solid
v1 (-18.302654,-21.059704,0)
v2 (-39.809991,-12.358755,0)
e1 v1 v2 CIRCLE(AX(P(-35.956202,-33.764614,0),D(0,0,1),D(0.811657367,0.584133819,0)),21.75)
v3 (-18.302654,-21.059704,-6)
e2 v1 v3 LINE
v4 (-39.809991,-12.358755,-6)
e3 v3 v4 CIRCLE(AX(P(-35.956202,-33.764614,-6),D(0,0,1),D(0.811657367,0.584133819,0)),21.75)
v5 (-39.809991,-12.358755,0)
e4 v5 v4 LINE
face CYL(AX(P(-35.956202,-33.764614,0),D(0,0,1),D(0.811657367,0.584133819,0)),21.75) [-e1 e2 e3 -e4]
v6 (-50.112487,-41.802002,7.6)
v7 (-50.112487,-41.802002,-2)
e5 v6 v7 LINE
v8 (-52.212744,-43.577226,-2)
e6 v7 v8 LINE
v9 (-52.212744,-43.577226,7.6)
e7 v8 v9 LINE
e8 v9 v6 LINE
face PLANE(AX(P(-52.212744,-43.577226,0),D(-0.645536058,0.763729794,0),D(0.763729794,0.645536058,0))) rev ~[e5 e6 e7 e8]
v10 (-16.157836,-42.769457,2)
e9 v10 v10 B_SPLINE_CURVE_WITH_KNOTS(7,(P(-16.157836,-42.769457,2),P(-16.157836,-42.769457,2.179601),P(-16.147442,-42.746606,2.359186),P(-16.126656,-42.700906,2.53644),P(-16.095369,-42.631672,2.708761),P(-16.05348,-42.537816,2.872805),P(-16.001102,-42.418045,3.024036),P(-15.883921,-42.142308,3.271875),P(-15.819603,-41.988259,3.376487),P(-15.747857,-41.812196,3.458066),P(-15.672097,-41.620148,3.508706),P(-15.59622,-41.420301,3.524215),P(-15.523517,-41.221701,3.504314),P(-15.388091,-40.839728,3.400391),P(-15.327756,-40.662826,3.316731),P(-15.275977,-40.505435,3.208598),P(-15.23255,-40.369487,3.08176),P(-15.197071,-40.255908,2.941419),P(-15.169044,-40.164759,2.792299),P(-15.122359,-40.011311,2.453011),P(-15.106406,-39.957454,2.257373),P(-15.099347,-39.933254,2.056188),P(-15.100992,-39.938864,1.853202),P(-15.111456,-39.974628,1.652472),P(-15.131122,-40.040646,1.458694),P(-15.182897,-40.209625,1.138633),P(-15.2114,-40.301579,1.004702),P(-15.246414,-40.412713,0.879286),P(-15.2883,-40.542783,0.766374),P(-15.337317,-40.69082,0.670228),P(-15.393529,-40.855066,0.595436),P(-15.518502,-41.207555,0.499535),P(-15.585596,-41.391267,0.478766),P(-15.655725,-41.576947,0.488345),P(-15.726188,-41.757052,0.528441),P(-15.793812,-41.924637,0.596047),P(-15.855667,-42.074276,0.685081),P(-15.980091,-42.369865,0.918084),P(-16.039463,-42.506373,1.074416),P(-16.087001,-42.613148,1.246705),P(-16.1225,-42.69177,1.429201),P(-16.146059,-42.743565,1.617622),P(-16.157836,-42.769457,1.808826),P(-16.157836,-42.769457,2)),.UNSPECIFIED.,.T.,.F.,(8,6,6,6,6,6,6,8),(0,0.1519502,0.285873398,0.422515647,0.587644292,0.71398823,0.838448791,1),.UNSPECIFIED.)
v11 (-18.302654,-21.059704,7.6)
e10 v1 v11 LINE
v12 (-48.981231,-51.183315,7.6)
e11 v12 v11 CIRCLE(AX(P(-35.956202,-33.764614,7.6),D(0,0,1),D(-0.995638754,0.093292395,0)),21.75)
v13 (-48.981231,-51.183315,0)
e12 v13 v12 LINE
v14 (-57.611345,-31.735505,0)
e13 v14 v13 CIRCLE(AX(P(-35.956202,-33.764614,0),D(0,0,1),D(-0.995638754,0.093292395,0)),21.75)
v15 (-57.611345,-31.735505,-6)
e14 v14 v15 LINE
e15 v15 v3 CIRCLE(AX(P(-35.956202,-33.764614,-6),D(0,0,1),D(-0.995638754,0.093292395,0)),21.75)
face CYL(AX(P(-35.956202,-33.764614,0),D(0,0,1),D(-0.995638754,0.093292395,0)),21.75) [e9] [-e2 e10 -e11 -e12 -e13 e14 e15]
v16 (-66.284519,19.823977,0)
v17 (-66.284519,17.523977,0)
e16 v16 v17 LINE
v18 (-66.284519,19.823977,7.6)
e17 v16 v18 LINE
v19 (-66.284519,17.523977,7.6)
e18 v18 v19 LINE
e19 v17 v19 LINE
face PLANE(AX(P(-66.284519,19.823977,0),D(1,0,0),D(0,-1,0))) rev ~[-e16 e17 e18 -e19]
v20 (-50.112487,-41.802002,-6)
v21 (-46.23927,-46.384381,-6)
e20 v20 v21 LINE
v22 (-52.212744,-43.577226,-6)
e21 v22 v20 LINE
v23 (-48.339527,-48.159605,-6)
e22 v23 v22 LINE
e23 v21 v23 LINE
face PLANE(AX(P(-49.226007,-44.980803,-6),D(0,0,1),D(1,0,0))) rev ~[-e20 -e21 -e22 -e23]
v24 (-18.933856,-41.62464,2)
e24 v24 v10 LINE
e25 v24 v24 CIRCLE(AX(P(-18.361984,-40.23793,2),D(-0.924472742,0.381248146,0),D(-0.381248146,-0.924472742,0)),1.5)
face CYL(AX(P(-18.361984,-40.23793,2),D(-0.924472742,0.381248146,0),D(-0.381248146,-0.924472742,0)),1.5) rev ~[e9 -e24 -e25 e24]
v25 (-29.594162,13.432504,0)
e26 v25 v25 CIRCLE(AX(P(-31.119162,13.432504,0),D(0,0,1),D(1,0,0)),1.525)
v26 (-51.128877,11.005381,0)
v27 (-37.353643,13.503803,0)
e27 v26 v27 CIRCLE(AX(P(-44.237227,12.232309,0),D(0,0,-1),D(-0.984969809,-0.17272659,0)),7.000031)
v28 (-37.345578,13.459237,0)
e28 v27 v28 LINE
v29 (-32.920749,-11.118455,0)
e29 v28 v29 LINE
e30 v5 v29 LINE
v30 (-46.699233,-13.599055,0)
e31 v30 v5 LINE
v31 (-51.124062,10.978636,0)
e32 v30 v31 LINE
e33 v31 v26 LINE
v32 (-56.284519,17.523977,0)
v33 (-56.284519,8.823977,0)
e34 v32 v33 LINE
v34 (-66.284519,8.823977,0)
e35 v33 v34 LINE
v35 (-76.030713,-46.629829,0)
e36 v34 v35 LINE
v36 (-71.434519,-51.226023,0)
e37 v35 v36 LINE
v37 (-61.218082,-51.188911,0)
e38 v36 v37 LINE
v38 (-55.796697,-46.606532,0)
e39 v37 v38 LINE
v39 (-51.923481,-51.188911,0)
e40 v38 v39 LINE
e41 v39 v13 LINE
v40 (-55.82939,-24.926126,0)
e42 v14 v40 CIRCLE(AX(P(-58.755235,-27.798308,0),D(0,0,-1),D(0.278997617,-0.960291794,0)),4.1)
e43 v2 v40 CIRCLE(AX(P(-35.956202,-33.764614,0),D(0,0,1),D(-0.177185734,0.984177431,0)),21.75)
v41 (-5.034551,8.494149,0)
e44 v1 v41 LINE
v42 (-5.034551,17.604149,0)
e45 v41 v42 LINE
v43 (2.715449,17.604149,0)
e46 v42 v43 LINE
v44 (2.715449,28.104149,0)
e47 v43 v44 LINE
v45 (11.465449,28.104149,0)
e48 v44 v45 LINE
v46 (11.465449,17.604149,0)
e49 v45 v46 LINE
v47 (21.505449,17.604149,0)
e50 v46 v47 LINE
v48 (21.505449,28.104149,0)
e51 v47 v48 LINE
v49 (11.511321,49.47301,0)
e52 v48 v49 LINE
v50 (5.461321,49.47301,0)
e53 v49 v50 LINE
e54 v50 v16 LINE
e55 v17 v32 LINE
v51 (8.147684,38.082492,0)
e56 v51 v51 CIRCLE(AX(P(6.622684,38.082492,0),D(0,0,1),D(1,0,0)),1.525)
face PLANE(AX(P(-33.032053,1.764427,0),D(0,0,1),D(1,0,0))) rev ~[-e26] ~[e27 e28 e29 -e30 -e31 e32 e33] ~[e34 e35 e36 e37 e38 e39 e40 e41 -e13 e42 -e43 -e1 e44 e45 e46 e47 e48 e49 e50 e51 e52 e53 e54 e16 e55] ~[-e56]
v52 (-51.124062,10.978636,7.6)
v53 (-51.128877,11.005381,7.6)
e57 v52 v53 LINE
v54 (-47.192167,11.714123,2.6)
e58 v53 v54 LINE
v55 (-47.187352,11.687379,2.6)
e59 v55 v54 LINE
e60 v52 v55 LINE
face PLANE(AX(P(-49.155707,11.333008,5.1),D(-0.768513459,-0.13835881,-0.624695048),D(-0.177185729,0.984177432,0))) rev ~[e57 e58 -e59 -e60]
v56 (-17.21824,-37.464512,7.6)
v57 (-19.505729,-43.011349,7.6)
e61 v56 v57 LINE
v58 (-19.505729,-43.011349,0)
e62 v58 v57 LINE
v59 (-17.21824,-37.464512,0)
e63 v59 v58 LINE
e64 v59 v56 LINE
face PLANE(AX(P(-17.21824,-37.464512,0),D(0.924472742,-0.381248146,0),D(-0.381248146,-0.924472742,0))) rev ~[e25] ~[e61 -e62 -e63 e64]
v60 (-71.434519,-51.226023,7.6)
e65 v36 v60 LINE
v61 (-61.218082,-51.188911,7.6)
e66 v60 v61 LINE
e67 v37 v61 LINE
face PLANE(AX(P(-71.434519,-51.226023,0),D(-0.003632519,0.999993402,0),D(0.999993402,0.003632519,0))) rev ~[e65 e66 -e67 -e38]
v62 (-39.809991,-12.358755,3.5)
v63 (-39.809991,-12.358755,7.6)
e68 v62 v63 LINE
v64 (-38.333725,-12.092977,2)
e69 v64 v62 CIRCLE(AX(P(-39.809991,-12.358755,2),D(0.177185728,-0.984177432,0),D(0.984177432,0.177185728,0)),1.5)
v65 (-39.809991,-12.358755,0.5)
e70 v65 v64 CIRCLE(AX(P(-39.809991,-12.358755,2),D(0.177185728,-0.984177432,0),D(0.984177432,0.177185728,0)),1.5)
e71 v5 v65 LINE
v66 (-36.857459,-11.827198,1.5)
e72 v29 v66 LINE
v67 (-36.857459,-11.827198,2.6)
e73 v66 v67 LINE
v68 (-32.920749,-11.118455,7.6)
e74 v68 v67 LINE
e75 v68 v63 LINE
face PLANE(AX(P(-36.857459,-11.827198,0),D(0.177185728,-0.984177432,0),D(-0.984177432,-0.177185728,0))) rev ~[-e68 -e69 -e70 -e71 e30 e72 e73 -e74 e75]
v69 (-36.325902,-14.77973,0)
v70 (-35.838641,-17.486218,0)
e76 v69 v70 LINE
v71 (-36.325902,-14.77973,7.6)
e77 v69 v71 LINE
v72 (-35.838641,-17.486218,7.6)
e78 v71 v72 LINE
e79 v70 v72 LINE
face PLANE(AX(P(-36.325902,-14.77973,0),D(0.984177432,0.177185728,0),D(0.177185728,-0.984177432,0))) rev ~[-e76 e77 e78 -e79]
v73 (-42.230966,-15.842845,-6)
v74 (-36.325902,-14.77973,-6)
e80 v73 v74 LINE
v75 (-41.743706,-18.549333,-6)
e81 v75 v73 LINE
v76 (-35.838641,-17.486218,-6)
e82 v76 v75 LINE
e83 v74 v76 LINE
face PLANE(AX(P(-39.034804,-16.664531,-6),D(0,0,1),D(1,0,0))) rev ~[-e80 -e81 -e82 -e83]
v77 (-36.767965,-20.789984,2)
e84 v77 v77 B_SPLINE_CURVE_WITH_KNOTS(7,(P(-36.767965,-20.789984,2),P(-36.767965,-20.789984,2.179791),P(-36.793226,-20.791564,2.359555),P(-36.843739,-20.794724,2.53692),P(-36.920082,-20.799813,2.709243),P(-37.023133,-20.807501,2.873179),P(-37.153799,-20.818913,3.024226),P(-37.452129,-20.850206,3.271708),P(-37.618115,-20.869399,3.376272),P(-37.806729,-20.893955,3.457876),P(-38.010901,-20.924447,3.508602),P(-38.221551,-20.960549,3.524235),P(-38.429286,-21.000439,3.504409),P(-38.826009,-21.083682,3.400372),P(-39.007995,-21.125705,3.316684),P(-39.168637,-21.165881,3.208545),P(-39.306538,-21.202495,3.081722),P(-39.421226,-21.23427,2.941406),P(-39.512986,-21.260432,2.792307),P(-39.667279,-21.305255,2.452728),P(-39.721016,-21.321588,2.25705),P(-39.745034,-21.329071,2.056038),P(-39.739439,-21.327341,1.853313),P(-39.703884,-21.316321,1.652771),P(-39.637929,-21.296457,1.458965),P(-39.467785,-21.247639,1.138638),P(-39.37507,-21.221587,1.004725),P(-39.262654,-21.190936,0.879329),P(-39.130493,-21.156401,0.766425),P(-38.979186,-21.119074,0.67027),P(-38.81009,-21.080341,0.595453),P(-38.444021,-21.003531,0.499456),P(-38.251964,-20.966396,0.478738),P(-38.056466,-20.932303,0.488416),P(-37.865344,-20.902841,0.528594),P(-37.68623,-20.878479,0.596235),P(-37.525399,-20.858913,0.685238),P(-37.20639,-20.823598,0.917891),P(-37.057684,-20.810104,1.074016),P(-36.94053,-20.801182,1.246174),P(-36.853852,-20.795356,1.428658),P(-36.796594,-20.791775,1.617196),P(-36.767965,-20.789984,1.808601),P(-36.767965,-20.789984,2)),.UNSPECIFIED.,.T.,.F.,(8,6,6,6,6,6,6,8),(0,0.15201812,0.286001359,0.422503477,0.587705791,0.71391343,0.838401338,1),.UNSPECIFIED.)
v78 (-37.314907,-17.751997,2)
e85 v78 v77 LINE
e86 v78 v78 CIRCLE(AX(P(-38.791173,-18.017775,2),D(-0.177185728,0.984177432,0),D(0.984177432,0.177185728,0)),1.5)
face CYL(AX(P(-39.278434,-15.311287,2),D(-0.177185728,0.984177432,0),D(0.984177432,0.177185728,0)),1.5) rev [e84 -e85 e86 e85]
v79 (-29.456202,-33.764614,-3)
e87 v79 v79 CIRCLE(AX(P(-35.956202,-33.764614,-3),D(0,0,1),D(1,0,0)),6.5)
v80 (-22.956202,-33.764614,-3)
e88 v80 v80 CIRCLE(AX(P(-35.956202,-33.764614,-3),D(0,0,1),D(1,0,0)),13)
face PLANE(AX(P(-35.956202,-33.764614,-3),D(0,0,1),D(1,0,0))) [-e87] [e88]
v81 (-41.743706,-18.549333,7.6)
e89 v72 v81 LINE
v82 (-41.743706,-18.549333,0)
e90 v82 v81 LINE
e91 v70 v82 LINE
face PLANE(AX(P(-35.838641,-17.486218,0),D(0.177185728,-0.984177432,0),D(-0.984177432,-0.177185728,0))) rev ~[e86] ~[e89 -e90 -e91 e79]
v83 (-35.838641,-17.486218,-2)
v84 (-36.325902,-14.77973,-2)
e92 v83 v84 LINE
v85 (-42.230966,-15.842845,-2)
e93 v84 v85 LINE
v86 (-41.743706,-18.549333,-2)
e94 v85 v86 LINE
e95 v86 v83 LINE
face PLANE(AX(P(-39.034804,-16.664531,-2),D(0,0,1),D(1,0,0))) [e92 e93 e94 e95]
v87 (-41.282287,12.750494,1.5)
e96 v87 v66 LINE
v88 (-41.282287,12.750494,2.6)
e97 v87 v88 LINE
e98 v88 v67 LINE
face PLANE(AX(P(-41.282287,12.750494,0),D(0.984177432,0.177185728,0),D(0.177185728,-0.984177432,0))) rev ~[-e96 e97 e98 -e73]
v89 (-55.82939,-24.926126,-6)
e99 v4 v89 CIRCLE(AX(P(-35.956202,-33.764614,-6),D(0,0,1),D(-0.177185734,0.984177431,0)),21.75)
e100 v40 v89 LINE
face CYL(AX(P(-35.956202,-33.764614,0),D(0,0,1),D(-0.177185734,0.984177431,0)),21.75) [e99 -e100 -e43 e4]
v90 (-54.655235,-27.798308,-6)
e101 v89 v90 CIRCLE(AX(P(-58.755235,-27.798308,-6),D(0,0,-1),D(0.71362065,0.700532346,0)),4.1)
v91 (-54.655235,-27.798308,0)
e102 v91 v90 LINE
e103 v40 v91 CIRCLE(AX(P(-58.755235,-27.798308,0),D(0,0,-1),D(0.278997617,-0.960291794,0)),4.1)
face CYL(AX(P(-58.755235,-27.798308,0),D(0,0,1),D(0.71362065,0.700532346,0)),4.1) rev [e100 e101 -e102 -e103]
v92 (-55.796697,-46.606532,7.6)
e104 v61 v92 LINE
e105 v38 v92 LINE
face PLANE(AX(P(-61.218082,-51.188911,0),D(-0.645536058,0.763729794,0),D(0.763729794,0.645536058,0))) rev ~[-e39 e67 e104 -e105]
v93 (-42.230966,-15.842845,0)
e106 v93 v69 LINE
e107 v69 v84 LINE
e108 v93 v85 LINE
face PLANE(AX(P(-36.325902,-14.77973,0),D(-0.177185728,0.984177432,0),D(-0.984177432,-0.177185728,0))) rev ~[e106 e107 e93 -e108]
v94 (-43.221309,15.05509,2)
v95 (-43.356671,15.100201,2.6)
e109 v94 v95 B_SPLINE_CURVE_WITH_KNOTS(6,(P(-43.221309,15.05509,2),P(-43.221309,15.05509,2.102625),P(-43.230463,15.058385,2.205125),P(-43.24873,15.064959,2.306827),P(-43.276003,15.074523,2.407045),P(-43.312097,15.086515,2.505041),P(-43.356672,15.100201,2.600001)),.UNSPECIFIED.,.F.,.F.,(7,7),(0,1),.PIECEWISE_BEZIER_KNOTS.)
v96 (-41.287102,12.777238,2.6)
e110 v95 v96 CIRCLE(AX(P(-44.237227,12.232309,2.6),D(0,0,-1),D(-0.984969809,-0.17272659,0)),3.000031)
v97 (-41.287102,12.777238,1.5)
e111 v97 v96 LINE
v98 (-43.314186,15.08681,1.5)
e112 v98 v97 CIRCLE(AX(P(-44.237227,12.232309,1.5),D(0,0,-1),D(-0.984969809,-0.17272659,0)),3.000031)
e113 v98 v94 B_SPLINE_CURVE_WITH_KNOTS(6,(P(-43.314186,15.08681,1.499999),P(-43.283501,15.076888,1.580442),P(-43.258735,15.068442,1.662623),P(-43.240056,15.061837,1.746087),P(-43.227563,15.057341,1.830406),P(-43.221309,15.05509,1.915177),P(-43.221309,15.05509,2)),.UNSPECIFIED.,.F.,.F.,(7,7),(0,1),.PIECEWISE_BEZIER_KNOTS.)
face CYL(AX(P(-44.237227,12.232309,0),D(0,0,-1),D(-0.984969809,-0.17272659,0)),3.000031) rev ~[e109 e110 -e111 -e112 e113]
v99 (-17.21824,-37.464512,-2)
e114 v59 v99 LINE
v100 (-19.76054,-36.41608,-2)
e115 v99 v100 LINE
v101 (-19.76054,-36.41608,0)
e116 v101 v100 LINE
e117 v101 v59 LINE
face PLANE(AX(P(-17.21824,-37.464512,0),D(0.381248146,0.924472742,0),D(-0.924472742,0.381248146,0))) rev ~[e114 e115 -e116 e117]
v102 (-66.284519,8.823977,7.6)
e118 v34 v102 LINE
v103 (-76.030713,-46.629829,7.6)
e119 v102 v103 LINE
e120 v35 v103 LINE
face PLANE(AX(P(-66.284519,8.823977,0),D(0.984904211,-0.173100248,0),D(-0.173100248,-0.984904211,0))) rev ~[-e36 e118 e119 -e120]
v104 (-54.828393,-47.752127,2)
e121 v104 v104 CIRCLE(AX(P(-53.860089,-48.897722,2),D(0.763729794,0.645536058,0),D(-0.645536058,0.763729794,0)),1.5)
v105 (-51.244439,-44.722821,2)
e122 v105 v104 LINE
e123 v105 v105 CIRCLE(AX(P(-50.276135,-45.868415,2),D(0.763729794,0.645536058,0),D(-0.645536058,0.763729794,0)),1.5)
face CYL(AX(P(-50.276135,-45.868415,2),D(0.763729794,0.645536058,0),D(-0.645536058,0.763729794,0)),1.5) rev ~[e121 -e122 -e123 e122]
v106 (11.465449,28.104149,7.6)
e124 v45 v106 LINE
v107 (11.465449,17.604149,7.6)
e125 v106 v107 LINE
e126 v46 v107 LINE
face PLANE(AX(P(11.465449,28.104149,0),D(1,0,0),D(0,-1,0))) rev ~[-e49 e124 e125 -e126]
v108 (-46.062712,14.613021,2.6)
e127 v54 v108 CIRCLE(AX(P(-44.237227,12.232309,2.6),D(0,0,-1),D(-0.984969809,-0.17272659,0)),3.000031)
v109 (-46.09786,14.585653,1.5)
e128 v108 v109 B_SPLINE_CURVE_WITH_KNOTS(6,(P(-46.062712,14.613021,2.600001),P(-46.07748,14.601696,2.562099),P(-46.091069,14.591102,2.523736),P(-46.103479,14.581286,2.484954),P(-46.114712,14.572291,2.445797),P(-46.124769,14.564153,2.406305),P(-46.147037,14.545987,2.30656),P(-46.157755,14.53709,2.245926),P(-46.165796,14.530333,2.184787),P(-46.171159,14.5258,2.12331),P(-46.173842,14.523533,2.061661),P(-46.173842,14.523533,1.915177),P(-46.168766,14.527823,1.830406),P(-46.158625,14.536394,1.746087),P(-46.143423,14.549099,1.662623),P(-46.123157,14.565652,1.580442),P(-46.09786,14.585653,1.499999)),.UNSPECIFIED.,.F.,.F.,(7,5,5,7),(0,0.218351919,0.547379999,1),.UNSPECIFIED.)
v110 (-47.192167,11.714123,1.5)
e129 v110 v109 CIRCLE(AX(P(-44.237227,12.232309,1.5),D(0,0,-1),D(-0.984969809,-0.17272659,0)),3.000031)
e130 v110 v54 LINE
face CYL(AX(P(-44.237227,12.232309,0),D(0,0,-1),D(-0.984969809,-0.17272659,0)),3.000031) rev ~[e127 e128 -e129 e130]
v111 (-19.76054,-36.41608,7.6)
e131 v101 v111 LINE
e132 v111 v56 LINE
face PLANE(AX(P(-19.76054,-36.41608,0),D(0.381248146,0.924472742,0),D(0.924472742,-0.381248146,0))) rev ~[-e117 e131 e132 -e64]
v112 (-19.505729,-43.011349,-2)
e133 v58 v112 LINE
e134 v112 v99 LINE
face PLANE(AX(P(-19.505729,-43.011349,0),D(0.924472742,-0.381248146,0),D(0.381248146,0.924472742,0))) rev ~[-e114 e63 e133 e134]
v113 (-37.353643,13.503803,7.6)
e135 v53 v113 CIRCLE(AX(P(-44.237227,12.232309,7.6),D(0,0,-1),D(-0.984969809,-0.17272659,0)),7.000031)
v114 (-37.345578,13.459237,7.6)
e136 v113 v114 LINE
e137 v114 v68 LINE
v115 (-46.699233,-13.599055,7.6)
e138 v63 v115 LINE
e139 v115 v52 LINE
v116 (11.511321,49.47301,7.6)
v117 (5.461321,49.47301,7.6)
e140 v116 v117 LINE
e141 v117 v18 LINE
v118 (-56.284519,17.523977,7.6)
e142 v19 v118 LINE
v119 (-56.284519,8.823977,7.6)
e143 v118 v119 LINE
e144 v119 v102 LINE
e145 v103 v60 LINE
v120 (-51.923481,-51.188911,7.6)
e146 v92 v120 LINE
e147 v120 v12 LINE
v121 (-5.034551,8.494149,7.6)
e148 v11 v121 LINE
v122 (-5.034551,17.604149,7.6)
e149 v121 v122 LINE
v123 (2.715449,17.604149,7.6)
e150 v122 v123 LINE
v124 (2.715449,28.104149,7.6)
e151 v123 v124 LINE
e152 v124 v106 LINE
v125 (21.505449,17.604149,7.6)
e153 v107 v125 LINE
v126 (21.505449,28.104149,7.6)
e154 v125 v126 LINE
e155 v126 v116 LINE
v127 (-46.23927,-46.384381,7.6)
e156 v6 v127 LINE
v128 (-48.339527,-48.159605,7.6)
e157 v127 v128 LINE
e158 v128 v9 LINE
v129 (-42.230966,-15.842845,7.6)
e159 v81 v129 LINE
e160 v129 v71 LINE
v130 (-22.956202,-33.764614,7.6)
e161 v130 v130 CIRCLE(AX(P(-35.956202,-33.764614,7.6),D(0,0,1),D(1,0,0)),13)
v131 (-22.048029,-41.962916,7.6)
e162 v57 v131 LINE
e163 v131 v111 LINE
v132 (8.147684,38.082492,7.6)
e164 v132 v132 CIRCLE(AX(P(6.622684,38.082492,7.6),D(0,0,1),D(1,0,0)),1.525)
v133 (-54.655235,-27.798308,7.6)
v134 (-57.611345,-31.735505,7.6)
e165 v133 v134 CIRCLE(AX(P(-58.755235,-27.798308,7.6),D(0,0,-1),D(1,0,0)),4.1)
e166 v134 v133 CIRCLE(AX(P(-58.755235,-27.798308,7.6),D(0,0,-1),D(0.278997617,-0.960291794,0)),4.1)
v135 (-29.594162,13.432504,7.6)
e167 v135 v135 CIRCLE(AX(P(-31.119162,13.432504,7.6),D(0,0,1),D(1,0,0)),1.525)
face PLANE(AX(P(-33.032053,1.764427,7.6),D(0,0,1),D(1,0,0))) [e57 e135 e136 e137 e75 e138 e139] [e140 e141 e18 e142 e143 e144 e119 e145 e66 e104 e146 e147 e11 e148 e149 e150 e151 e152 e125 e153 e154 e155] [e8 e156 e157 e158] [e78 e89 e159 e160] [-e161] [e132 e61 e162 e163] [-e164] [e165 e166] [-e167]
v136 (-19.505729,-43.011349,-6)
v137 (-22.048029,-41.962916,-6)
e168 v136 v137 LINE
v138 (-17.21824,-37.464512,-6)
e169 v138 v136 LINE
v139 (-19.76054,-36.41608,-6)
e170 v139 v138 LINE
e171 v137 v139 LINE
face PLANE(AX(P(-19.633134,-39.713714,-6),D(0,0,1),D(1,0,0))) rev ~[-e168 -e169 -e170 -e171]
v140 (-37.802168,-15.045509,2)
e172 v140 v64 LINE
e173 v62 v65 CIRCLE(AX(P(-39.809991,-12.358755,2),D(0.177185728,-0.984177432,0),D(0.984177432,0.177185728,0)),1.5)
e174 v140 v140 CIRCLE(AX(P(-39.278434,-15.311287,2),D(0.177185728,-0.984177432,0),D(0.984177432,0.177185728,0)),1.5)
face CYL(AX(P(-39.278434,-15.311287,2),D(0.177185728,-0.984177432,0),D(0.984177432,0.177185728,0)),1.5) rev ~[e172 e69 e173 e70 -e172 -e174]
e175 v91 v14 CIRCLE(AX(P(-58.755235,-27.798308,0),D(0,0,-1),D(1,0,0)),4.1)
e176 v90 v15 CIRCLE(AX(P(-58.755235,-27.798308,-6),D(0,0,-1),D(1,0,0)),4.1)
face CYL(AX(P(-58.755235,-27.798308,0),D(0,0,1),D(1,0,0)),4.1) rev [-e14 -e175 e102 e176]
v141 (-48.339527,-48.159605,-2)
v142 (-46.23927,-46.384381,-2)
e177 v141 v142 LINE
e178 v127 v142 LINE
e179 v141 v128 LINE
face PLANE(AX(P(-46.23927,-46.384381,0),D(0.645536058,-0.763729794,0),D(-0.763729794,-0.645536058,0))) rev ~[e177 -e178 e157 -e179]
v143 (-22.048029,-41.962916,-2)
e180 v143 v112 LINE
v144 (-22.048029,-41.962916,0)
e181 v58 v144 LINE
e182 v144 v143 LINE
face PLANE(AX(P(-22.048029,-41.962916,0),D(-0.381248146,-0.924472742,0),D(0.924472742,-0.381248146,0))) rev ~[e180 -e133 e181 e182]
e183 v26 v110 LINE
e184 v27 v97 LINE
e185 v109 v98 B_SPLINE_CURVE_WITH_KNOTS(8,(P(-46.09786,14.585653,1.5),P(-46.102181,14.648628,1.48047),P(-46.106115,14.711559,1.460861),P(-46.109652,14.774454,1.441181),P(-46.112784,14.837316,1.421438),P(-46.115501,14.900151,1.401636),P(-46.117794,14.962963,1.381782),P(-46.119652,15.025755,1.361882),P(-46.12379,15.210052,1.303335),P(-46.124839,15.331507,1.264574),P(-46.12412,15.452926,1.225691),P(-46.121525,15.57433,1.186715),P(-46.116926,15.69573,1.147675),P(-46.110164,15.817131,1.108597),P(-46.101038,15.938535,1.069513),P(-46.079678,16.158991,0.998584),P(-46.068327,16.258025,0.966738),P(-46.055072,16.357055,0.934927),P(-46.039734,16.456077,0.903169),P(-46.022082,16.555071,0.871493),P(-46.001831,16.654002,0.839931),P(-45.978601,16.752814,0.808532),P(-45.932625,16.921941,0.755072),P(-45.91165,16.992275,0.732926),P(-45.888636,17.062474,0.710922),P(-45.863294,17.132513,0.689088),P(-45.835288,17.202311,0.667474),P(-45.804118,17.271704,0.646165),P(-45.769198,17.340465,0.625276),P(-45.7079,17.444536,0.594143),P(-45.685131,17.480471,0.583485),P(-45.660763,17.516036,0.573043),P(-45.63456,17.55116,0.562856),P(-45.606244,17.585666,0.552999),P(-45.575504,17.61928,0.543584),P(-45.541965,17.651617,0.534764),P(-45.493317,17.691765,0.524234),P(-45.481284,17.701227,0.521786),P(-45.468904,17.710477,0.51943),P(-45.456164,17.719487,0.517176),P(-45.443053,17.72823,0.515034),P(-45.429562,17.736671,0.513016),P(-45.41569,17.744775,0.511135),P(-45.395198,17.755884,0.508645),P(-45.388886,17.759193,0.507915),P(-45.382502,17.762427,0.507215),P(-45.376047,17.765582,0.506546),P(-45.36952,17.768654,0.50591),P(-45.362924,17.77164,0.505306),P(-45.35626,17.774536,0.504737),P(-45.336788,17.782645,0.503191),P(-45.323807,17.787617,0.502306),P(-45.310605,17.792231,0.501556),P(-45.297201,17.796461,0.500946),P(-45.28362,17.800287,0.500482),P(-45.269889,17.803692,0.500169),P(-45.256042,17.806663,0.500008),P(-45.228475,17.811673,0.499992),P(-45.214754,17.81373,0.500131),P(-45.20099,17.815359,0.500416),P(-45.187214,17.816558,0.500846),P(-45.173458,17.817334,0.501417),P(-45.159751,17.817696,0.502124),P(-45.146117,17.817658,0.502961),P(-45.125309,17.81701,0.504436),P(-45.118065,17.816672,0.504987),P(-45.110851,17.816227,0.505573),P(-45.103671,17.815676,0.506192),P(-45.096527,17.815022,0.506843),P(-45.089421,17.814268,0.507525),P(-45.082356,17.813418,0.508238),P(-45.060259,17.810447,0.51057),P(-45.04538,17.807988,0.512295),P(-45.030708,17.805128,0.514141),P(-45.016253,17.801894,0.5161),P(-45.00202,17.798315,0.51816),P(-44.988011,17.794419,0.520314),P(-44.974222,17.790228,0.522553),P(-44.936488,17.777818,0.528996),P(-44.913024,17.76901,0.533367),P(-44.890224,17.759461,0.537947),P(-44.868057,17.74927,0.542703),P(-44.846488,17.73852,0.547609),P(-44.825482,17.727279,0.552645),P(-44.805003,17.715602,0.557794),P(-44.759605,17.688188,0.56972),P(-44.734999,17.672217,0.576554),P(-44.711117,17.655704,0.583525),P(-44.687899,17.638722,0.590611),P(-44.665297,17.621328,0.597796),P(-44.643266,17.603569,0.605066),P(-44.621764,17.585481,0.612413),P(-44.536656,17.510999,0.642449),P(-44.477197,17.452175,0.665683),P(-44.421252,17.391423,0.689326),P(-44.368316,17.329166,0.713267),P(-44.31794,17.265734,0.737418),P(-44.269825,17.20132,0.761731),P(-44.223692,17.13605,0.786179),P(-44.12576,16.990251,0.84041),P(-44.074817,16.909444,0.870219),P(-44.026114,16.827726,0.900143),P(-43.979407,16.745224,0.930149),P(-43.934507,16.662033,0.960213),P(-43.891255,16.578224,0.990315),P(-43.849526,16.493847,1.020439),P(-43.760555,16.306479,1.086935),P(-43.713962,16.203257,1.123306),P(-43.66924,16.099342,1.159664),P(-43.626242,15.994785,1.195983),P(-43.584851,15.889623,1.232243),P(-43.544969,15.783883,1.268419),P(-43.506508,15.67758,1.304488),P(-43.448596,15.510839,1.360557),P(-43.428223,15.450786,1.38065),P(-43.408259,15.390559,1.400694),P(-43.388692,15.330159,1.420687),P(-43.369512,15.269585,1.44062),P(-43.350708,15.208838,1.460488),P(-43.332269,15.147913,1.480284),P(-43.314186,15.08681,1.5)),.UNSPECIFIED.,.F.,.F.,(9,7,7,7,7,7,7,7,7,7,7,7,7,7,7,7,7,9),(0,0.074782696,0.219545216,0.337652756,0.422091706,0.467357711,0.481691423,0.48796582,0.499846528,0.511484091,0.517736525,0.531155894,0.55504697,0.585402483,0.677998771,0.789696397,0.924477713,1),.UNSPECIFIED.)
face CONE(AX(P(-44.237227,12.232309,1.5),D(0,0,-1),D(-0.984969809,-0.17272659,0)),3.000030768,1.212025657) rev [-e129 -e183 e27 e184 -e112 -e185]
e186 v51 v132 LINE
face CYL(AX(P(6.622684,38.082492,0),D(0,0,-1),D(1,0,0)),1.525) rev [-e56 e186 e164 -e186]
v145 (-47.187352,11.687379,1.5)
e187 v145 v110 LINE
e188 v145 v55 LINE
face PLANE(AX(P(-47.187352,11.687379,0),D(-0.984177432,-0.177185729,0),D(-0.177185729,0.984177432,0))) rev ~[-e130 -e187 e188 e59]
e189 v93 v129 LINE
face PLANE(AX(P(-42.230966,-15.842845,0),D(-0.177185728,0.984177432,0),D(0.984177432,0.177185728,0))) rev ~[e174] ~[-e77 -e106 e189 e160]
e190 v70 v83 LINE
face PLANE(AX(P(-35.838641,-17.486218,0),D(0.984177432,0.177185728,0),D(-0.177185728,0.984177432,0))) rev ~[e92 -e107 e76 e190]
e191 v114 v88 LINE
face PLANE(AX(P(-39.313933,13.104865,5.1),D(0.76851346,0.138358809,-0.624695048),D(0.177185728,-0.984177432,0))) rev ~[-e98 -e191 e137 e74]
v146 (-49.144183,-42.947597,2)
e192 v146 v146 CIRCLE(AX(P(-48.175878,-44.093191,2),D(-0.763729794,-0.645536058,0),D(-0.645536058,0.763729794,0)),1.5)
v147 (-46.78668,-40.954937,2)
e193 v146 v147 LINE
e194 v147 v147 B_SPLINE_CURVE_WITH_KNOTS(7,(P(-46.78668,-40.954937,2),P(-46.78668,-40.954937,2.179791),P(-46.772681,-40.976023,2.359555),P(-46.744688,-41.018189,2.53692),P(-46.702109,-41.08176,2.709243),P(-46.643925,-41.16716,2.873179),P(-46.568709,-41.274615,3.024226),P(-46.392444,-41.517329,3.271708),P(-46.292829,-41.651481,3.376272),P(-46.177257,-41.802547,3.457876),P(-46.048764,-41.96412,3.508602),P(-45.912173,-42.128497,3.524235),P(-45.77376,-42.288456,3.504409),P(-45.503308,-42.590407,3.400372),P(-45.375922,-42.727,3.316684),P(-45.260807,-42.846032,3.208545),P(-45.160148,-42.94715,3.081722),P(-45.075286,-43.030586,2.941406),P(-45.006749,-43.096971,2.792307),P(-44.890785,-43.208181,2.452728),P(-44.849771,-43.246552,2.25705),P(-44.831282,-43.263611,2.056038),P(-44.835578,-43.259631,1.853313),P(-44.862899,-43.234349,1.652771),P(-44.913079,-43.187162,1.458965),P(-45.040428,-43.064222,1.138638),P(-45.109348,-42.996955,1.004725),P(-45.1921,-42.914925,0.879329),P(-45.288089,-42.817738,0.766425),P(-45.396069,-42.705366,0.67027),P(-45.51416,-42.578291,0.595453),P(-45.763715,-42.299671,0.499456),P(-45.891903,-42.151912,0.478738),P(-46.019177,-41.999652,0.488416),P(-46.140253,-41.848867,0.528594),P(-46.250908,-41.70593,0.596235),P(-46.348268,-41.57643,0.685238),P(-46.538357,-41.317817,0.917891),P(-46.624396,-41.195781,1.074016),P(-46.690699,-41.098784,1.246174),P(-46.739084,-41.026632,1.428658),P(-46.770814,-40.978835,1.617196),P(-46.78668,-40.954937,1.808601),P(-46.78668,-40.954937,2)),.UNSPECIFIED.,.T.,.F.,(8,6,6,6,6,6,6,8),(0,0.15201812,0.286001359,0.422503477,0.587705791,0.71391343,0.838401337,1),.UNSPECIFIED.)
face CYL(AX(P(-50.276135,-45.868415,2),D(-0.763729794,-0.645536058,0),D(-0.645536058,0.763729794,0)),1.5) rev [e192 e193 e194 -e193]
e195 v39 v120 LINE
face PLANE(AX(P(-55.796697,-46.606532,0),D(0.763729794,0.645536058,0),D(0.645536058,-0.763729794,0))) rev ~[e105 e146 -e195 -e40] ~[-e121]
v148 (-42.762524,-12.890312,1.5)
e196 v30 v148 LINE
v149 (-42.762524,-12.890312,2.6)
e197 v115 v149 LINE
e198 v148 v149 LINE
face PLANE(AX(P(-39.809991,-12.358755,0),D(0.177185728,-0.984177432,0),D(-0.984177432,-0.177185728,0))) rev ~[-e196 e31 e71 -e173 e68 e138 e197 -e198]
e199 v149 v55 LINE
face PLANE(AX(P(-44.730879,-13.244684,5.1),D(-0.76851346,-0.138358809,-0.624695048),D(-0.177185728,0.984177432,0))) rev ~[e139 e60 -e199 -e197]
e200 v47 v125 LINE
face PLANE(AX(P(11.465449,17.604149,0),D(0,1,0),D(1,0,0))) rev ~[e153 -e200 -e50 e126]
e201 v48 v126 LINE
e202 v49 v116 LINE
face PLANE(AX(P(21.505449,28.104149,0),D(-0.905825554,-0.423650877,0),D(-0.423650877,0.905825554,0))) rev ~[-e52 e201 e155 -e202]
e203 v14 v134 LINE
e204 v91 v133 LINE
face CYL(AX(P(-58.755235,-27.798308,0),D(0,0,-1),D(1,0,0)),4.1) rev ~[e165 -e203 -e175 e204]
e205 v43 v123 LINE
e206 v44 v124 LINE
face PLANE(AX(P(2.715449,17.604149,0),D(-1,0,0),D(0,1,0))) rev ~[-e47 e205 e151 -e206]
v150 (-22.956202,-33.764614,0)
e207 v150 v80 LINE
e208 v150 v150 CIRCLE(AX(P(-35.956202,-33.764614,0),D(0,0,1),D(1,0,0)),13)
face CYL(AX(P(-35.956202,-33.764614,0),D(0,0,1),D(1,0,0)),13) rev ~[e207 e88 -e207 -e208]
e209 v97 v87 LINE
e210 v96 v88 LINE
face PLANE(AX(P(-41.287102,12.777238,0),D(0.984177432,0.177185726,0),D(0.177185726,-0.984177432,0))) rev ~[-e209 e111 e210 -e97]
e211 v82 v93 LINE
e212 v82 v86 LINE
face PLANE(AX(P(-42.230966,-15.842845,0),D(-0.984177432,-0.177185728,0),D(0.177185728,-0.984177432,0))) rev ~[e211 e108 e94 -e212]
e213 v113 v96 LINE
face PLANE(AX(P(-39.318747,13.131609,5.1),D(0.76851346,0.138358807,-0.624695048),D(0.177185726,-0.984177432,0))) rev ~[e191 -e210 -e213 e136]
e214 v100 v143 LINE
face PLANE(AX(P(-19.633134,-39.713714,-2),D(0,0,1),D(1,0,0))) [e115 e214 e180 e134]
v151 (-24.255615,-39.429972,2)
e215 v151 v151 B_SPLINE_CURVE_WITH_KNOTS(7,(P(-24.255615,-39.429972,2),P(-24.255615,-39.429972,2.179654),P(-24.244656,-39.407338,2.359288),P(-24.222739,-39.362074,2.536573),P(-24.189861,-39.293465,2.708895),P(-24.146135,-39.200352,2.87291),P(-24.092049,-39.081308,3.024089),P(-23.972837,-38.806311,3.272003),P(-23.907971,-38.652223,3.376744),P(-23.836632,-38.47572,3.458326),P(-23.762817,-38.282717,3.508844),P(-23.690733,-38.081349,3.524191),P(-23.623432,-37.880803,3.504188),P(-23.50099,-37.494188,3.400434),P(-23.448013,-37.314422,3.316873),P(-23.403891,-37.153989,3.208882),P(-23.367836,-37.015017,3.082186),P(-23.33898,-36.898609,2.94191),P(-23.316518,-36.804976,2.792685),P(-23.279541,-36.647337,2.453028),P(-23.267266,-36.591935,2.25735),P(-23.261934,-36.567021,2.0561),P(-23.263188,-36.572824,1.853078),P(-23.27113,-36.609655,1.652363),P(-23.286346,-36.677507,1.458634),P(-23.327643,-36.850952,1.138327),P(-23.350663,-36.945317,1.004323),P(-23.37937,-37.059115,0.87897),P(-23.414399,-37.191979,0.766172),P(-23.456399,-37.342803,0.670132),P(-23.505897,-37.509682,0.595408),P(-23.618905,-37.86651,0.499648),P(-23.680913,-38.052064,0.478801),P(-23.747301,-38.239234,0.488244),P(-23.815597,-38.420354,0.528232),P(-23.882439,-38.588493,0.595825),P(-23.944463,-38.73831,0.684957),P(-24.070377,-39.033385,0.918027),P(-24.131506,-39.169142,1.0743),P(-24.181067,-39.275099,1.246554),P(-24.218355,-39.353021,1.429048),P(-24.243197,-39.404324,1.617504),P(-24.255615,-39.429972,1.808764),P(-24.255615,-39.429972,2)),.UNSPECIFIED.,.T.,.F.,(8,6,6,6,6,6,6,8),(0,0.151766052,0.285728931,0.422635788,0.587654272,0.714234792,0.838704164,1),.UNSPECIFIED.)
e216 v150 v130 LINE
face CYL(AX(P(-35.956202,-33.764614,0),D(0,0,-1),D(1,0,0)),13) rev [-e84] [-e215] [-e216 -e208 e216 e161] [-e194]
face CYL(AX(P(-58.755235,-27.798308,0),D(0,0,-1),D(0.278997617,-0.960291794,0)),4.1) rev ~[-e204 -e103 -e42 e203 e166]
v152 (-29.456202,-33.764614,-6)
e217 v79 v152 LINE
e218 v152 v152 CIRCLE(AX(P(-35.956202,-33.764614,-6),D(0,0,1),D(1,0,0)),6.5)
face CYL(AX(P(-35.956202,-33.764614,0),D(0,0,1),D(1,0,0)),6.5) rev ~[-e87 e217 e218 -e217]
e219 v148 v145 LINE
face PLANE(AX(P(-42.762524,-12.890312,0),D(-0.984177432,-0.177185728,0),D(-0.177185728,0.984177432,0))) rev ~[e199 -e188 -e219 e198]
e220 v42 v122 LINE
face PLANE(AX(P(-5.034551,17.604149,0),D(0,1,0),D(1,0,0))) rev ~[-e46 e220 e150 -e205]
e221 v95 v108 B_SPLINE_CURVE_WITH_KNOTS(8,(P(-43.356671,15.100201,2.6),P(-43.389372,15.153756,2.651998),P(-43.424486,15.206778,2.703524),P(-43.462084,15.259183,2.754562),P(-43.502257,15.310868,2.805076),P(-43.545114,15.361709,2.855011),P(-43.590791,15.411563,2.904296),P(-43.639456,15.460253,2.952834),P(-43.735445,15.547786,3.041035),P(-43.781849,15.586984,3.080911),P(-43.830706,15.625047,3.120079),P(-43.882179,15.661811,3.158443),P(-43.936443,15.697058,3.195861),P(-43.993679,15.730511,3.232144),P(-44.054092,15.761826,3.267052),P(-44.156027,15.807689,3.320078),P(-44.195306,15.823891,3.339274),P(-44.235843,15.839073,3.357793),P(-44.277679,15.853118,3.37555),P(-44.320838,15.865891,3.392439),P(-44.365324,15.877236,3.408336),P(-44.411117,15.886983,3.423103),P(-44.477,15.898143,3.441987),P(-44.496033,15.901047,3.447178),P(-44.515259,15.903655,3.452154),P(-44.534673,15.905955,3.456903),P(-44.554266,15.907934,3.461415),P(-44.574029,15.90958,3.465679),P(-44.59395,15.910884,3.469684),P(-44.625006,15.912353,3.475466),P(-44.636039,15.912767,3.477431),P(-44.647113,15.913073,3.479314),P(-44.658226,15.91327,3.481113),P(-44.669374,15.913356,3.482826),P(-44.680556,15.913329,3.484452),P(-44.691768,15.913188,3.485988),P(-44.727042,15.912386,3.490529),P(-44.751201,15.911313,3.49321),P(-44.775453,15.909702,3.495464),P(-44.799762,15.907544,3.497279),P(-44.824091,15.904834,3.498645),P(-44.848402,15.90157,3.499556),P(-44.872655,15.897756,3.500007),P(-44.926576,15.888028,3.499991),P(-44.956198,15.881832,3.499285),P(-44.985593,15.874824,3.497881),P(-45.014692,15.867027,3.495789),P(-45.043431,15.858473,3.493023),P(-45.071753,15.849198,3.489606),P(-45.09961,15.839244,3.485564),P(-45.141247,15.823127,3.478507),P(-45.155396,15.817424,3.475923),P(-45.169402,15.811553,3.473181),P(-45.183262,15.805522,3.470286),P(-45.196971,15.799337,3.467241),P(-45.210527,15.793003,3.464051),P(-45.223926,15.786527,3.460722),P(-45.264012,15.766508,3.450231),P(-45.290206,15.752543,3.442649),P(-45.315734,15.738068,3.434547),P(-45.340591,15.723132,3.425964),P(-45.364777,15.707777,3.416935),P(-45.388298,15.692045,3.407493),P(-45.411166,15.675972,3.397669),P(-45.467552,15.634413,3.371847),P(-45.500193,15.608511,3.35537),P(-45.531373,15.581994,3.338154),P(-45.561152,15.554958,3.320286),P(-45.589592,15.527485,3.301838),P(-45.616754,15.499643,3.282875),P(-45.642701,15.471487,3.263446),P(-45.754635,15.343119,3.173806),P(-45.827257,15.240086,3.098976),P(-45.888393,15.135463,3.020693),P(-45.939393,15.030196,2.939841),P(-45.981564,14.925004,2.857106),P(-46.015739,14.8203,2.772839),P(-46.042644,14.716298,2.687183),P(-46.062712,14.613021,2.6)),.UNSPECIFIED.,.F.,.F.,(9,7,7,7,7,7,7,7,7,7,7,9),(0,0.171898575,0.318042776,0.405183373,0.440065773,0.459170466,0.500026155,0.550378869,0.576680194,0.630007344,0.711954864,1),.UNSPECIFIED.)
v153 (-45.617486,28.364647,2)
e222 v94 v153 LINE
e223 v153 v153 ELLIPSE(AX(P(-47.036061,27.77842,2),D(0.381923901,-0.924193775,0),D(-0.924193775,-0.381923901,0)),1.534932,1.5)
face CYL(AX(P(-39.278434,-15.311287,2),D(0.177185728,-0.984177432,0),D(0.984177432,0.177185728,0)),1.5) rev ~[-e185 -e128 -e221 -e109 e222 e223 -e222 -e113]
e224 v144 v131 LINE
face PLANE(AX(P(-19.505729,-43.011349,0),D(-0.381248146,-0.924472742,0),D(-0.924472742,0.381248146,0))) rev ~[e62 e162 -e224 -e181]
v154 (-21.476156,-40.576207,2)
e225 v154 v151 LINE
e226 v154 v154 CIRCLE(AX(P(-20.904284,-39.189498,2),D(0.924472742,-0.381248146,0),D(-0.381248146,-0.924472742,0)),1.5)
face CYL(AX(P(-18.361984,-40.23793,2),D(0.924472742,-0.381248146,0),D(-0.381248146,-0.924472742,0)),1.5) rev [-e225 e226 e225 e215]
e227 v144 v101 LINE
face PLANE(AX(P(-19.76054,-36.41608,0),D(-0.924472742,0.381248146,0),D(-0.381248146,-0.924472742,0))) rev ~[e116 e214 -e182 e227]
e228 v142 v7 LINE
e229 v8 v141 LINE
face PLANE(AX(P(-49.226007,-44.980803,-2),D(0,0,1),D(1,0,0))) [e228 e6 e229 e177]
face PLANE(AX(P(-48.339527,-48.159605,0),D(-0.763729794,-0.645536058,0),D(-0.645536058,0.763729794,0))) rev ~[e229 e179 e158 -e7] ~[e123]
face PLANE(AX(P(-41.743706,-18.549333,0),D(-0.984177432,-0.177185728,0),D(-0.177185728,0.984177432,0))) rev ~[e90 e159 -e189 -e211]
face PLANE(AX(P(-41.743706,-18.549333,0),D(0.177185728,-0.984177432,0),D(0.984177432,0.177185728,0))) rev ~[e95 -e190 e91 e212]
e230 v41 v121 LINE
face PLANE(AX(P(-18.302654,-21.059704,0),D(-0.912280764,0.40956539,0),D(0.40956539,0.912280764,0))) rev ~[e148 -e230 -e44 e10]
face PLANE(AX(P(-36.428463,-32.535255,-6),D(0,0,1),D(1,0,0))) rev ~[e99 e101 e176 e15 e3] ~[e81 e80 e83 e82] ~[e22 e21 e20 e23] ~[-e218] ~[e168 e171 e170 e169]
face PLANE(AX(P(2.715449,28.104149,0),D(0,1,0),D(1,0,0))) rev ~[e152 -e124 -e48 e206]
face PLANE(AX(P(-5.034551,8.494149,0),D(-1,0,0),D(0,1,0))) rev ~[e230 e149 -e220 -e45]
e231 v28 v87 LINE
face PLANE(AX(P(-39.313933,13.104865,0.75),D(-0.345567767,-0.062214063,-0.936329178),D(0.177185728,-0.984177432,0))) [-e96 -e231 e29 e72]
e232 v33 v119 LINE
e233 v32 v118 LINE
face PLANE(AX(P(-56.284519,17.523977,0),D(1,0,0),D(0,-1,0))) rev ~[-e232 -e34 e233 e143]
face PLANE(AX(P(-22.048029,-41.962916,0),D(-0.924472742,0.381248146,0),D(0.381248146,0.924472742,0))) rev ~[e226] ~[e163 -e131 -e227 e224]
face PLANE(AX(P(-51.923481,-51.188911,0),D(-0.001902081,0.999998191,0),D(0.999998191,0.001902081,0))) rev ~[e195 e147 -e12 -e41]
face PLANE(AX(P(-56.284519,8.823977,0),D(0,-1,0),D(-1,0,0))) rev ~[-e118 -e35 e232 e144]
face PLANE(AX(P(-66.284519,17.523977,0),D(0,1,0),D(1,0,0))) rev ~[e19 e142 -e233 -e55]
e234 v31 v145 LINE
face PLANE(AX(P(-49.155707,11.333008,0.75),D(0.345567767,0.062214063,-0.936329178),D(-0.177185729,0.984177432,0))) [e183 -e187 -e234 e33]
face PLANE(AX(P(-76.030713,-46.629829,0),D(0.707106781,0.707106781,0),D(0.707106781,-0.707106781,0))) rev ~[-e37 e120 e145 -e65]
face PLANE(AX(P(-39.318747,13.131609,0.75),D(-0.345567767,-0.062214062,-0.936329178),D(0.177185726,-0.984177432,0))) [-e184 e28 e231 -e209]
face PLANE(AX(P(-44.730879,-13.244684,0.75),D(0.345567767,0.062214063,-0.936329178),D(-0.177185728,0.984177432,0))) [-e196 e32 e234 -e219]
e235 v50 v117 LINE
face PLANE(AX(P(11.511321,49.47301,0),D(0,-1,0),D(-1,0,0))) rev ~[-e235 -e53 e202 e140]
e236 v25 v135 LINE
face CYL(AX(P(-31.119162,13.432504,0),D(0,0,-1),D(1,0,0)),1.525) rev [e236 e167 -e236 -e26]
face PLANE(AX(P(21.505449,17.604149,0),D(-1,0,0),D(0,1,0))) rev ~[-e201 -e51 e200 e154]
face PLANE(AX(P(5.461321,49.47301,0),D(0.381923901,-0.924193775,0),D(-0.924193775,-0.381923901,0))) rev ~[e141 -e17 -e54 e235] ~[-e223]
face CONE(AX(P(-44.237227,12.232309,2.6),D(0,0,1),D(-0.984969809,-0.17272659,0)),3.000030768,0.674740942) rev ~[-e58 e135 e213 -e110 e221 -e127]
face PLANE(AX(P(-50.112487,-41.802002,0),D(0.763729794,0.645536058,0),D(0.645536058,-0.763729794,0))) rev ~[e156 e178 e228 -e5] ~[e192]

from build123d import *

# Parameters (mm, degrees)
F0_R      = 1.525
F0_R_2    = 13
F1_DEPTH  = 7.6
F0_R_3    = 6.5
F2_DEPTH  = 6
F3_DEPTH  = 3
F4_DEPTH  = 6
F5_DEPTH  = 2
F6_SIZE2  = 5
F6_SIZE   = 4
F7_SIZE2  = 1.5
F7_SIZE   = 4
F8_R      = 1.5
F11_DEPTH = 45
F12_DEPTH = 10
F9_R      = 1.5
F13_DEPTH = 10
F14_DEPTH = 10
F10_R     = 1.5
F15_DEPTH = 15
F16_DEPTH = 10


with BuildPart() as f1:
    # F0 (on Top) → F1 (new body)
    with BuildSketch(Plane.XY):
        with BuildLine():
            Line((11.4654492345, 28.1041493633), (11.4654492345, 17.6041493633))
            Line((11.4654492345, 17.6041493633), (21.5054492345, 17.6041493633))
            Line((21.5054492345, 17.6041493633), (21.5054492345, 28.1041493633))
            Line((21.5054492345, 28.1041493633), (11.5113214177, 49.4730095995))
            Line((11.5113214177, 49.4730095995), (5.4613214177, 49.4730095995))
            Line((5.4613214177, 49.4730095995), (-66.2845185672, 19.8239773236))
            Line((-66.2845185672, 19.8239773236), (-66.2845185672, 17.5239773236))
            Line((-66.2845185672, 17.5239773236), (-56.2845185672, 17.5239773236))
            Line((-56.2845185672, 17.5239773236), (-56.2845185672, 8.8239773236))
            Line((-56.2845185672, 8.8239773236), (-66.2845185672, 8.8239773236))
            Line((-66.2845185672, 8.8239773236), (-76.0307126449, -46.6298285987))
            Line((-76.0307126449, -46.6298285987), (-71.4345185672, -51.2260226764))
            Line((-71.4345185672, -51.2260226764), (-61.2180819327, -51.1889110274))
            Line((-61.2180819327, -51.1889110274), (-55.7966974161, -46.606532264))
            Line((-55.7966974161, -46.606532264), (-51.9234810694, -51.1889110274))
            Line((-51.9234810694, -51.1889110274), (-48.9812307256, -51.1833146176))
            ThreePointArc((-48.9812307256, -51.1833146176), (-55.8366672394, -42.5867224617), (-57.6113446632, -31.7355047176))
            ThreePointArc((-57.6113446632, -31.7355047176), (-62.7216685586, -26.760327644), (-55.8293902254, -24.9261257448))
            ThreePointArc((-55.8293902254, -24.9261257448), (-49.3810695109, -16.6521794806), (-39.8099914805, -12.3587551881))
            ThreePointArc((-39.8099914805, -12.3587551881), (-27.7993054872, -13.6020861151), (-18.3026540226, -21.0597037496))
            Line((-18.3026540226, -21.0597037496), (-5.0345507655, 8.4941493633))
            Line((-5.0345507655, 8.4941493633), (-5.0345507655, 17.6041493633))
            Line((-5.0345507655, 17.6041493633), (2.7154492345, 17.6041493633))
            Line((2.7154492345, 17.6041493633), (2.7154492345, 28.1041493633))
            Line((2.7154492345, 28.1041493633), (11.4654492345, 28.1041493633))
        make_face()
        with BuildLine():
            Line((-36.8574590489, -11.8271979792), (-39.8099914805, -12.3587551881))
            Line((-39.8099914805, -12.3587551881), (-42.7625236411, -12.8903123481))
            Line((-42.7625236411, -12.8903123481), (-47.1873519708, 11.6873792538))
            Line((-47.1873519708, 11.6873792538), (-47.1921668449, 11.7141234529))
            ThreePointArc((-47.1921668449, 11.7141234529), (-44.7687897478, 15.1848711151), (-41.2871022526, 12.7772378218))
            Line((-41.2871022526, 12.7772378218), (-41.2822873786, 12.7504936227))
            Line((-41.2822873786, 12.7504936227), (-36.8574590489, -11.8271979792))
        make_face(mode=Mode.SUBTRACT)
        with Locations((-31.119161509, 13.4325037545)):
            Circle(F0_R, mode=Mode.SUBTRACT)
        with Locations((6.6226837225, 38.0824916065)):
            Circle(F0_R, mode=Mode.SUBTRACT)
        with BuildLine():
            ThreePointArc((-48.9812307256, -51.1833146176), (-20.7176395084, -49.2839158598), (-18.3026540226, -21.0597037496))
            ThreePointArc((-18.3026540226, -21.0597037496), (-27.7993054872, -13.6020861151), (-39.8099914805, -12.3587551881))
            ThreePointArc((-39.8099914805, -12.3587551881), (-49.3810695109, -16.6521794806), (-55.8293902254, -24.9261257448))
            ThreePointArc((-55.8293902254, -24.9261257448), (-54.9601088644, -26.2468514875), (-54.6552348922, -27.7983083618))
            ThreePointArc((-54.6552348922, -27.7983083618), (-55.4765194472, -30.2600201708), (-57.6113446632, -31.7355047176))
            ThreePointArc((-57.6113446632, -31.7355047176), (-55.8366672394, -42.5867224617), (-48.9812307256, -51.1833146176))
        make_face()
        Polygon((-50.1124866335, -41.8020018535), (-46.2392702868, -46.3843806169), (-48.33952722, -48.1596047758), (-52.2127435668, -43.5772260124), align=None, mode=Mode.SUBTRACT)
        with Locations((-35.9562017577, -33.7646143106)):
            Circle(F0_R_2, mode=Mode.SUBTRACT)
        Polygon((-41.7437057042, -18.5493325824), (-42.2309664567, -15.8428446443), (-36.3259018644, -14.7797302754), (-35.838641112, -17.4862182135), align=None, mode=Mode.SUBTRACT)
        Polygon((-22.0480286327, -41.9629163019), (-19.7605397552, -36.416079849), (-17.2182397143, -37.4645122512), (-19.5057285918, -43.0113487041), align=None, mode=Mode.SUBTRACT)
    extrude(amount=F1_DEPTH)

    # F0 (on Top) → F2 (join)
    with BuildSketch(Plane.XY):
        with BuildLine():
            ThreePointArc((-48.9812307256, -51.1833146176), (-20.7176395084, -49.2839158598), (-18.3026540226, -21.0597037496))
            ThreePointArc((-18.3026540226, -21.0597037496), (-27.7993054872, -13.6020861151), (-39.8099914805, -12.3587551881))
            ThreePointArc((-39.8099914805, -12.3587551881), (-49.3810695109, -16.6521794806), (-55.8293902254, -24.9261257448))
            ThreePointArc((-55.8293902254, -24.9261257448), (-54.9601088644, -26.2468514875), (-54.6552348922, -27.7983083618))
            ThreePointArc((-54.6552348922, -27.7983083618), (-55.4765194472, -30.2600201708), (-57.6113446632, -31.7355047176))
            ThreePointArc((-57.6113446632, -31.7355047176), (-55.8366672394, -42.5867224617), (-48.9812307256, -51.1833146176))
        make_face()
        Polygon((-50.1124866335, -41.8020018535), (-46.2392702868, -46.3843806169), (-48.33952722, -48.1596047758), (-52.2127435668, -43.5772260124), align=None, mode=Mode.SUBTRACT)
        with Locations((-35.9562017577, -33.7646143106)):
            Circle(F0_R_2, mode=Mode.SUBTRACT)
        Polygon((-41.7437057042, -18.5493325824), (-42.2309664567, -15.8428446443), (-36.3259018644, -14.7797302754), (-35.838641112, -17.4862182135), align=None, mode=Mode.SUBTRACT)
        Polygon((-22.0480286327, -41.9629163019), (-19.7605397552, -36.416079849), (-17.2182397143, -37.4645122512), (-19.5057285918, -43.0113487041), align=None, mode=Mode.SUBTRACT)
        with Locations((-35.9562017577, -33.7646143106)):
            Circle(F0_R_2)
        with Locations((-35.9562017577, -33.7646143106)):
            Circle(F0_R_3, mode=Mode.SUBTRACT)
    extrude(amount=-F2_DEPTH)

    # F0 (on Top) → F3 (cut)
    with BuildSketch(Plane.XY):
        with Locations((-35.9562017577, -33.7646143106)):
            Circle(F0_R_2)
        with Locations((-35.9562017577, -33.7646143106)):
            Circle(F0_R_3, mode=Mode.SUBTRACT)
    extrude(amount=-F3_DEPTH, mode=Mode.SUBTRACT)

    # F0 (on Top) → F4 (join)
    with BuildSketch(Plane.XY):
        Polygon((-48.33952722, -48.1596047758), (-46.2392702868, -46.3843806169), (-50.1124866335, -41.8020018535), (-52.2127435668, -43.5772260124), align=None)
        Polygon((-36.3259018644, -14.7797302754), (-42.2309664567, -15.8428446443), (-41.7437057042, -18.5493325824), (-35.838641112, -17.4862182135), align=None)
        Polygon((-17.2182397143, -37.4645122512), (-19.7605397552, -36.416079849), (-22.0480286327, -41.9629163019), (-19.5057285918, -43.0113487041), align=None)
    extrude(amount=-F4_DEPTH)

    # F0 (on Top) → F5 (cut)
    with BuildSketch(Plane.XY):
        Polygon((-36.3259018644, -14.7797302754), (-42.2309664567, -15.8428446443), (-41.7437057042, -18.5493325824), (-35.838641112, -17.4862182135), align=None)
        Polygon((-17.2182397143, -37.4645122512), (-19.7605397552, -36.416079849), (-22.0480286327, -41.9629163019), (-19.5057285918, -43.0113487041), align=None)
        Polygon((-48.33952722, -48.1596047758), (-46.2392702868, -46.3843806169), (-50.1124866335, -41.8020018535), (-52.2127435668, -43.5772260124), align=None)
    extrude(amount=-F5_DEPTH, mode=Mode.SUBTRACT)

    # F6
    f6_edges = [f1.edges().sort_by_distance(p)[0] for p in [
        (-44.76879, 15.184871, 7.6),
        (-39.072281, 0.47502, 7.6),
        (-44.977345, -0.588094, 7.6),
    ]]
    f6_side = f1.faces().sort_by_distance((-32.346153, -0.818971, 7.6))[0]
    chamfer(f6_edges, length=F6_SIZE, length2=F6_SIZE2, reference=f6_side)

    # F7
    f7_edges = [f1.edges().sort_by_distance(p)[0] for p in [
        (-39.072281, 0.47502, 0),
        (-44.977345, -0.588094, 0),
        (-44.76879, 15.184871, 0),
    ]]
    f7_side = f1.faces().sort_by_distance((-31.55219, 6.99064, 0))[0]
    chamfer(f7_edges, length=F7_SIZE, length2=F7_SIZE2, reference=f7_side)

    # F8 (on face) → F11 (cut)
    with BuildSketch(Plane(origin=(1.4368780264, -7.9811333617, 0), x_dir=(0.984177432, 0.1771857282, 0), z_dir=(0.1771857282, -0.984177432, 0))):
        with Locations((-41.3698900842, 2)):
            Circle(F8_R)
    extrude(amount=-F11_DEPTH, mode=Mode.SUBTRACT)

    # F8 (on face) → F12 (cut)
    with BuildSketch(Plane(origin=(1.4368780264, -7.9811333617, 0), x_dir=(0.984177432, 0.1771857282, 0), z_dir=(0.1771857282, -0.984177432, 0))):
        with Locations((-41.3698900842, 2)):
            Circle(F8_R)
    extrude(amount=F12_DEPTH, mode=Mode.SUBTRACT)

    # F9 (on face) → F13 (cut)
    with BuildSketch(Plane(origin=(-1.5110668178, 0.6231567432, 0), x_dir=(-0.3812481463, -0.9244727422, 0), z_dir=(-0.9244727422, 0.3812481463, 0))):
        with Locations((44.199342347, 2)):
            Circle(F9_R)
    extrude(amount=-F13_DEPTH, mode=Mode.SUBTRACT)

    # F9 (on face) → F14 (cut)
    with BuildSketch(Plane(origin=(-1.5110668178, 0.6231567432, 0), x_dir=(-0.3812481463, -0.9244727422, 0), z_dir=(-0.9244727422, 0.3812481463, 0))):
        with Locations((44.199342347, 2)):
            Circle(F9_R)
    extrude(amount=F14_DEPTH, mode=Mode.SUBTRACT)

    # F10 (on face) → F15 (cut)
    with BuildSketch(Plane(origin=(-51.939047377, -43.9010343142, 0), x_dir=(-0.6455360578, 0.7637297939, 0), z_dir=(0.7637297939, 0.6455360578, 0))):
        with Locations((-2.576017193, 2)):
            Circle(F10_R)
    extrude(amount=-F15_DEPTH, mode=Mode.SUBTRACT)

    # F10 (on face) → F16 (cut)
    with BuildSketch(Plane(origin=(-51.939047377, -43.9010343142, 0), x_dir=(-0.6455360578, 0.7637297939, 0), z_dir=(0.7637297939, 0.6455360578, 0))):
        with Locations((-2.576017193, 2)):
            Circle(F10_R)
    extrude(amount=F16_DEPTH, mode=Mode.SUBTRACT)


solid = f1.part
